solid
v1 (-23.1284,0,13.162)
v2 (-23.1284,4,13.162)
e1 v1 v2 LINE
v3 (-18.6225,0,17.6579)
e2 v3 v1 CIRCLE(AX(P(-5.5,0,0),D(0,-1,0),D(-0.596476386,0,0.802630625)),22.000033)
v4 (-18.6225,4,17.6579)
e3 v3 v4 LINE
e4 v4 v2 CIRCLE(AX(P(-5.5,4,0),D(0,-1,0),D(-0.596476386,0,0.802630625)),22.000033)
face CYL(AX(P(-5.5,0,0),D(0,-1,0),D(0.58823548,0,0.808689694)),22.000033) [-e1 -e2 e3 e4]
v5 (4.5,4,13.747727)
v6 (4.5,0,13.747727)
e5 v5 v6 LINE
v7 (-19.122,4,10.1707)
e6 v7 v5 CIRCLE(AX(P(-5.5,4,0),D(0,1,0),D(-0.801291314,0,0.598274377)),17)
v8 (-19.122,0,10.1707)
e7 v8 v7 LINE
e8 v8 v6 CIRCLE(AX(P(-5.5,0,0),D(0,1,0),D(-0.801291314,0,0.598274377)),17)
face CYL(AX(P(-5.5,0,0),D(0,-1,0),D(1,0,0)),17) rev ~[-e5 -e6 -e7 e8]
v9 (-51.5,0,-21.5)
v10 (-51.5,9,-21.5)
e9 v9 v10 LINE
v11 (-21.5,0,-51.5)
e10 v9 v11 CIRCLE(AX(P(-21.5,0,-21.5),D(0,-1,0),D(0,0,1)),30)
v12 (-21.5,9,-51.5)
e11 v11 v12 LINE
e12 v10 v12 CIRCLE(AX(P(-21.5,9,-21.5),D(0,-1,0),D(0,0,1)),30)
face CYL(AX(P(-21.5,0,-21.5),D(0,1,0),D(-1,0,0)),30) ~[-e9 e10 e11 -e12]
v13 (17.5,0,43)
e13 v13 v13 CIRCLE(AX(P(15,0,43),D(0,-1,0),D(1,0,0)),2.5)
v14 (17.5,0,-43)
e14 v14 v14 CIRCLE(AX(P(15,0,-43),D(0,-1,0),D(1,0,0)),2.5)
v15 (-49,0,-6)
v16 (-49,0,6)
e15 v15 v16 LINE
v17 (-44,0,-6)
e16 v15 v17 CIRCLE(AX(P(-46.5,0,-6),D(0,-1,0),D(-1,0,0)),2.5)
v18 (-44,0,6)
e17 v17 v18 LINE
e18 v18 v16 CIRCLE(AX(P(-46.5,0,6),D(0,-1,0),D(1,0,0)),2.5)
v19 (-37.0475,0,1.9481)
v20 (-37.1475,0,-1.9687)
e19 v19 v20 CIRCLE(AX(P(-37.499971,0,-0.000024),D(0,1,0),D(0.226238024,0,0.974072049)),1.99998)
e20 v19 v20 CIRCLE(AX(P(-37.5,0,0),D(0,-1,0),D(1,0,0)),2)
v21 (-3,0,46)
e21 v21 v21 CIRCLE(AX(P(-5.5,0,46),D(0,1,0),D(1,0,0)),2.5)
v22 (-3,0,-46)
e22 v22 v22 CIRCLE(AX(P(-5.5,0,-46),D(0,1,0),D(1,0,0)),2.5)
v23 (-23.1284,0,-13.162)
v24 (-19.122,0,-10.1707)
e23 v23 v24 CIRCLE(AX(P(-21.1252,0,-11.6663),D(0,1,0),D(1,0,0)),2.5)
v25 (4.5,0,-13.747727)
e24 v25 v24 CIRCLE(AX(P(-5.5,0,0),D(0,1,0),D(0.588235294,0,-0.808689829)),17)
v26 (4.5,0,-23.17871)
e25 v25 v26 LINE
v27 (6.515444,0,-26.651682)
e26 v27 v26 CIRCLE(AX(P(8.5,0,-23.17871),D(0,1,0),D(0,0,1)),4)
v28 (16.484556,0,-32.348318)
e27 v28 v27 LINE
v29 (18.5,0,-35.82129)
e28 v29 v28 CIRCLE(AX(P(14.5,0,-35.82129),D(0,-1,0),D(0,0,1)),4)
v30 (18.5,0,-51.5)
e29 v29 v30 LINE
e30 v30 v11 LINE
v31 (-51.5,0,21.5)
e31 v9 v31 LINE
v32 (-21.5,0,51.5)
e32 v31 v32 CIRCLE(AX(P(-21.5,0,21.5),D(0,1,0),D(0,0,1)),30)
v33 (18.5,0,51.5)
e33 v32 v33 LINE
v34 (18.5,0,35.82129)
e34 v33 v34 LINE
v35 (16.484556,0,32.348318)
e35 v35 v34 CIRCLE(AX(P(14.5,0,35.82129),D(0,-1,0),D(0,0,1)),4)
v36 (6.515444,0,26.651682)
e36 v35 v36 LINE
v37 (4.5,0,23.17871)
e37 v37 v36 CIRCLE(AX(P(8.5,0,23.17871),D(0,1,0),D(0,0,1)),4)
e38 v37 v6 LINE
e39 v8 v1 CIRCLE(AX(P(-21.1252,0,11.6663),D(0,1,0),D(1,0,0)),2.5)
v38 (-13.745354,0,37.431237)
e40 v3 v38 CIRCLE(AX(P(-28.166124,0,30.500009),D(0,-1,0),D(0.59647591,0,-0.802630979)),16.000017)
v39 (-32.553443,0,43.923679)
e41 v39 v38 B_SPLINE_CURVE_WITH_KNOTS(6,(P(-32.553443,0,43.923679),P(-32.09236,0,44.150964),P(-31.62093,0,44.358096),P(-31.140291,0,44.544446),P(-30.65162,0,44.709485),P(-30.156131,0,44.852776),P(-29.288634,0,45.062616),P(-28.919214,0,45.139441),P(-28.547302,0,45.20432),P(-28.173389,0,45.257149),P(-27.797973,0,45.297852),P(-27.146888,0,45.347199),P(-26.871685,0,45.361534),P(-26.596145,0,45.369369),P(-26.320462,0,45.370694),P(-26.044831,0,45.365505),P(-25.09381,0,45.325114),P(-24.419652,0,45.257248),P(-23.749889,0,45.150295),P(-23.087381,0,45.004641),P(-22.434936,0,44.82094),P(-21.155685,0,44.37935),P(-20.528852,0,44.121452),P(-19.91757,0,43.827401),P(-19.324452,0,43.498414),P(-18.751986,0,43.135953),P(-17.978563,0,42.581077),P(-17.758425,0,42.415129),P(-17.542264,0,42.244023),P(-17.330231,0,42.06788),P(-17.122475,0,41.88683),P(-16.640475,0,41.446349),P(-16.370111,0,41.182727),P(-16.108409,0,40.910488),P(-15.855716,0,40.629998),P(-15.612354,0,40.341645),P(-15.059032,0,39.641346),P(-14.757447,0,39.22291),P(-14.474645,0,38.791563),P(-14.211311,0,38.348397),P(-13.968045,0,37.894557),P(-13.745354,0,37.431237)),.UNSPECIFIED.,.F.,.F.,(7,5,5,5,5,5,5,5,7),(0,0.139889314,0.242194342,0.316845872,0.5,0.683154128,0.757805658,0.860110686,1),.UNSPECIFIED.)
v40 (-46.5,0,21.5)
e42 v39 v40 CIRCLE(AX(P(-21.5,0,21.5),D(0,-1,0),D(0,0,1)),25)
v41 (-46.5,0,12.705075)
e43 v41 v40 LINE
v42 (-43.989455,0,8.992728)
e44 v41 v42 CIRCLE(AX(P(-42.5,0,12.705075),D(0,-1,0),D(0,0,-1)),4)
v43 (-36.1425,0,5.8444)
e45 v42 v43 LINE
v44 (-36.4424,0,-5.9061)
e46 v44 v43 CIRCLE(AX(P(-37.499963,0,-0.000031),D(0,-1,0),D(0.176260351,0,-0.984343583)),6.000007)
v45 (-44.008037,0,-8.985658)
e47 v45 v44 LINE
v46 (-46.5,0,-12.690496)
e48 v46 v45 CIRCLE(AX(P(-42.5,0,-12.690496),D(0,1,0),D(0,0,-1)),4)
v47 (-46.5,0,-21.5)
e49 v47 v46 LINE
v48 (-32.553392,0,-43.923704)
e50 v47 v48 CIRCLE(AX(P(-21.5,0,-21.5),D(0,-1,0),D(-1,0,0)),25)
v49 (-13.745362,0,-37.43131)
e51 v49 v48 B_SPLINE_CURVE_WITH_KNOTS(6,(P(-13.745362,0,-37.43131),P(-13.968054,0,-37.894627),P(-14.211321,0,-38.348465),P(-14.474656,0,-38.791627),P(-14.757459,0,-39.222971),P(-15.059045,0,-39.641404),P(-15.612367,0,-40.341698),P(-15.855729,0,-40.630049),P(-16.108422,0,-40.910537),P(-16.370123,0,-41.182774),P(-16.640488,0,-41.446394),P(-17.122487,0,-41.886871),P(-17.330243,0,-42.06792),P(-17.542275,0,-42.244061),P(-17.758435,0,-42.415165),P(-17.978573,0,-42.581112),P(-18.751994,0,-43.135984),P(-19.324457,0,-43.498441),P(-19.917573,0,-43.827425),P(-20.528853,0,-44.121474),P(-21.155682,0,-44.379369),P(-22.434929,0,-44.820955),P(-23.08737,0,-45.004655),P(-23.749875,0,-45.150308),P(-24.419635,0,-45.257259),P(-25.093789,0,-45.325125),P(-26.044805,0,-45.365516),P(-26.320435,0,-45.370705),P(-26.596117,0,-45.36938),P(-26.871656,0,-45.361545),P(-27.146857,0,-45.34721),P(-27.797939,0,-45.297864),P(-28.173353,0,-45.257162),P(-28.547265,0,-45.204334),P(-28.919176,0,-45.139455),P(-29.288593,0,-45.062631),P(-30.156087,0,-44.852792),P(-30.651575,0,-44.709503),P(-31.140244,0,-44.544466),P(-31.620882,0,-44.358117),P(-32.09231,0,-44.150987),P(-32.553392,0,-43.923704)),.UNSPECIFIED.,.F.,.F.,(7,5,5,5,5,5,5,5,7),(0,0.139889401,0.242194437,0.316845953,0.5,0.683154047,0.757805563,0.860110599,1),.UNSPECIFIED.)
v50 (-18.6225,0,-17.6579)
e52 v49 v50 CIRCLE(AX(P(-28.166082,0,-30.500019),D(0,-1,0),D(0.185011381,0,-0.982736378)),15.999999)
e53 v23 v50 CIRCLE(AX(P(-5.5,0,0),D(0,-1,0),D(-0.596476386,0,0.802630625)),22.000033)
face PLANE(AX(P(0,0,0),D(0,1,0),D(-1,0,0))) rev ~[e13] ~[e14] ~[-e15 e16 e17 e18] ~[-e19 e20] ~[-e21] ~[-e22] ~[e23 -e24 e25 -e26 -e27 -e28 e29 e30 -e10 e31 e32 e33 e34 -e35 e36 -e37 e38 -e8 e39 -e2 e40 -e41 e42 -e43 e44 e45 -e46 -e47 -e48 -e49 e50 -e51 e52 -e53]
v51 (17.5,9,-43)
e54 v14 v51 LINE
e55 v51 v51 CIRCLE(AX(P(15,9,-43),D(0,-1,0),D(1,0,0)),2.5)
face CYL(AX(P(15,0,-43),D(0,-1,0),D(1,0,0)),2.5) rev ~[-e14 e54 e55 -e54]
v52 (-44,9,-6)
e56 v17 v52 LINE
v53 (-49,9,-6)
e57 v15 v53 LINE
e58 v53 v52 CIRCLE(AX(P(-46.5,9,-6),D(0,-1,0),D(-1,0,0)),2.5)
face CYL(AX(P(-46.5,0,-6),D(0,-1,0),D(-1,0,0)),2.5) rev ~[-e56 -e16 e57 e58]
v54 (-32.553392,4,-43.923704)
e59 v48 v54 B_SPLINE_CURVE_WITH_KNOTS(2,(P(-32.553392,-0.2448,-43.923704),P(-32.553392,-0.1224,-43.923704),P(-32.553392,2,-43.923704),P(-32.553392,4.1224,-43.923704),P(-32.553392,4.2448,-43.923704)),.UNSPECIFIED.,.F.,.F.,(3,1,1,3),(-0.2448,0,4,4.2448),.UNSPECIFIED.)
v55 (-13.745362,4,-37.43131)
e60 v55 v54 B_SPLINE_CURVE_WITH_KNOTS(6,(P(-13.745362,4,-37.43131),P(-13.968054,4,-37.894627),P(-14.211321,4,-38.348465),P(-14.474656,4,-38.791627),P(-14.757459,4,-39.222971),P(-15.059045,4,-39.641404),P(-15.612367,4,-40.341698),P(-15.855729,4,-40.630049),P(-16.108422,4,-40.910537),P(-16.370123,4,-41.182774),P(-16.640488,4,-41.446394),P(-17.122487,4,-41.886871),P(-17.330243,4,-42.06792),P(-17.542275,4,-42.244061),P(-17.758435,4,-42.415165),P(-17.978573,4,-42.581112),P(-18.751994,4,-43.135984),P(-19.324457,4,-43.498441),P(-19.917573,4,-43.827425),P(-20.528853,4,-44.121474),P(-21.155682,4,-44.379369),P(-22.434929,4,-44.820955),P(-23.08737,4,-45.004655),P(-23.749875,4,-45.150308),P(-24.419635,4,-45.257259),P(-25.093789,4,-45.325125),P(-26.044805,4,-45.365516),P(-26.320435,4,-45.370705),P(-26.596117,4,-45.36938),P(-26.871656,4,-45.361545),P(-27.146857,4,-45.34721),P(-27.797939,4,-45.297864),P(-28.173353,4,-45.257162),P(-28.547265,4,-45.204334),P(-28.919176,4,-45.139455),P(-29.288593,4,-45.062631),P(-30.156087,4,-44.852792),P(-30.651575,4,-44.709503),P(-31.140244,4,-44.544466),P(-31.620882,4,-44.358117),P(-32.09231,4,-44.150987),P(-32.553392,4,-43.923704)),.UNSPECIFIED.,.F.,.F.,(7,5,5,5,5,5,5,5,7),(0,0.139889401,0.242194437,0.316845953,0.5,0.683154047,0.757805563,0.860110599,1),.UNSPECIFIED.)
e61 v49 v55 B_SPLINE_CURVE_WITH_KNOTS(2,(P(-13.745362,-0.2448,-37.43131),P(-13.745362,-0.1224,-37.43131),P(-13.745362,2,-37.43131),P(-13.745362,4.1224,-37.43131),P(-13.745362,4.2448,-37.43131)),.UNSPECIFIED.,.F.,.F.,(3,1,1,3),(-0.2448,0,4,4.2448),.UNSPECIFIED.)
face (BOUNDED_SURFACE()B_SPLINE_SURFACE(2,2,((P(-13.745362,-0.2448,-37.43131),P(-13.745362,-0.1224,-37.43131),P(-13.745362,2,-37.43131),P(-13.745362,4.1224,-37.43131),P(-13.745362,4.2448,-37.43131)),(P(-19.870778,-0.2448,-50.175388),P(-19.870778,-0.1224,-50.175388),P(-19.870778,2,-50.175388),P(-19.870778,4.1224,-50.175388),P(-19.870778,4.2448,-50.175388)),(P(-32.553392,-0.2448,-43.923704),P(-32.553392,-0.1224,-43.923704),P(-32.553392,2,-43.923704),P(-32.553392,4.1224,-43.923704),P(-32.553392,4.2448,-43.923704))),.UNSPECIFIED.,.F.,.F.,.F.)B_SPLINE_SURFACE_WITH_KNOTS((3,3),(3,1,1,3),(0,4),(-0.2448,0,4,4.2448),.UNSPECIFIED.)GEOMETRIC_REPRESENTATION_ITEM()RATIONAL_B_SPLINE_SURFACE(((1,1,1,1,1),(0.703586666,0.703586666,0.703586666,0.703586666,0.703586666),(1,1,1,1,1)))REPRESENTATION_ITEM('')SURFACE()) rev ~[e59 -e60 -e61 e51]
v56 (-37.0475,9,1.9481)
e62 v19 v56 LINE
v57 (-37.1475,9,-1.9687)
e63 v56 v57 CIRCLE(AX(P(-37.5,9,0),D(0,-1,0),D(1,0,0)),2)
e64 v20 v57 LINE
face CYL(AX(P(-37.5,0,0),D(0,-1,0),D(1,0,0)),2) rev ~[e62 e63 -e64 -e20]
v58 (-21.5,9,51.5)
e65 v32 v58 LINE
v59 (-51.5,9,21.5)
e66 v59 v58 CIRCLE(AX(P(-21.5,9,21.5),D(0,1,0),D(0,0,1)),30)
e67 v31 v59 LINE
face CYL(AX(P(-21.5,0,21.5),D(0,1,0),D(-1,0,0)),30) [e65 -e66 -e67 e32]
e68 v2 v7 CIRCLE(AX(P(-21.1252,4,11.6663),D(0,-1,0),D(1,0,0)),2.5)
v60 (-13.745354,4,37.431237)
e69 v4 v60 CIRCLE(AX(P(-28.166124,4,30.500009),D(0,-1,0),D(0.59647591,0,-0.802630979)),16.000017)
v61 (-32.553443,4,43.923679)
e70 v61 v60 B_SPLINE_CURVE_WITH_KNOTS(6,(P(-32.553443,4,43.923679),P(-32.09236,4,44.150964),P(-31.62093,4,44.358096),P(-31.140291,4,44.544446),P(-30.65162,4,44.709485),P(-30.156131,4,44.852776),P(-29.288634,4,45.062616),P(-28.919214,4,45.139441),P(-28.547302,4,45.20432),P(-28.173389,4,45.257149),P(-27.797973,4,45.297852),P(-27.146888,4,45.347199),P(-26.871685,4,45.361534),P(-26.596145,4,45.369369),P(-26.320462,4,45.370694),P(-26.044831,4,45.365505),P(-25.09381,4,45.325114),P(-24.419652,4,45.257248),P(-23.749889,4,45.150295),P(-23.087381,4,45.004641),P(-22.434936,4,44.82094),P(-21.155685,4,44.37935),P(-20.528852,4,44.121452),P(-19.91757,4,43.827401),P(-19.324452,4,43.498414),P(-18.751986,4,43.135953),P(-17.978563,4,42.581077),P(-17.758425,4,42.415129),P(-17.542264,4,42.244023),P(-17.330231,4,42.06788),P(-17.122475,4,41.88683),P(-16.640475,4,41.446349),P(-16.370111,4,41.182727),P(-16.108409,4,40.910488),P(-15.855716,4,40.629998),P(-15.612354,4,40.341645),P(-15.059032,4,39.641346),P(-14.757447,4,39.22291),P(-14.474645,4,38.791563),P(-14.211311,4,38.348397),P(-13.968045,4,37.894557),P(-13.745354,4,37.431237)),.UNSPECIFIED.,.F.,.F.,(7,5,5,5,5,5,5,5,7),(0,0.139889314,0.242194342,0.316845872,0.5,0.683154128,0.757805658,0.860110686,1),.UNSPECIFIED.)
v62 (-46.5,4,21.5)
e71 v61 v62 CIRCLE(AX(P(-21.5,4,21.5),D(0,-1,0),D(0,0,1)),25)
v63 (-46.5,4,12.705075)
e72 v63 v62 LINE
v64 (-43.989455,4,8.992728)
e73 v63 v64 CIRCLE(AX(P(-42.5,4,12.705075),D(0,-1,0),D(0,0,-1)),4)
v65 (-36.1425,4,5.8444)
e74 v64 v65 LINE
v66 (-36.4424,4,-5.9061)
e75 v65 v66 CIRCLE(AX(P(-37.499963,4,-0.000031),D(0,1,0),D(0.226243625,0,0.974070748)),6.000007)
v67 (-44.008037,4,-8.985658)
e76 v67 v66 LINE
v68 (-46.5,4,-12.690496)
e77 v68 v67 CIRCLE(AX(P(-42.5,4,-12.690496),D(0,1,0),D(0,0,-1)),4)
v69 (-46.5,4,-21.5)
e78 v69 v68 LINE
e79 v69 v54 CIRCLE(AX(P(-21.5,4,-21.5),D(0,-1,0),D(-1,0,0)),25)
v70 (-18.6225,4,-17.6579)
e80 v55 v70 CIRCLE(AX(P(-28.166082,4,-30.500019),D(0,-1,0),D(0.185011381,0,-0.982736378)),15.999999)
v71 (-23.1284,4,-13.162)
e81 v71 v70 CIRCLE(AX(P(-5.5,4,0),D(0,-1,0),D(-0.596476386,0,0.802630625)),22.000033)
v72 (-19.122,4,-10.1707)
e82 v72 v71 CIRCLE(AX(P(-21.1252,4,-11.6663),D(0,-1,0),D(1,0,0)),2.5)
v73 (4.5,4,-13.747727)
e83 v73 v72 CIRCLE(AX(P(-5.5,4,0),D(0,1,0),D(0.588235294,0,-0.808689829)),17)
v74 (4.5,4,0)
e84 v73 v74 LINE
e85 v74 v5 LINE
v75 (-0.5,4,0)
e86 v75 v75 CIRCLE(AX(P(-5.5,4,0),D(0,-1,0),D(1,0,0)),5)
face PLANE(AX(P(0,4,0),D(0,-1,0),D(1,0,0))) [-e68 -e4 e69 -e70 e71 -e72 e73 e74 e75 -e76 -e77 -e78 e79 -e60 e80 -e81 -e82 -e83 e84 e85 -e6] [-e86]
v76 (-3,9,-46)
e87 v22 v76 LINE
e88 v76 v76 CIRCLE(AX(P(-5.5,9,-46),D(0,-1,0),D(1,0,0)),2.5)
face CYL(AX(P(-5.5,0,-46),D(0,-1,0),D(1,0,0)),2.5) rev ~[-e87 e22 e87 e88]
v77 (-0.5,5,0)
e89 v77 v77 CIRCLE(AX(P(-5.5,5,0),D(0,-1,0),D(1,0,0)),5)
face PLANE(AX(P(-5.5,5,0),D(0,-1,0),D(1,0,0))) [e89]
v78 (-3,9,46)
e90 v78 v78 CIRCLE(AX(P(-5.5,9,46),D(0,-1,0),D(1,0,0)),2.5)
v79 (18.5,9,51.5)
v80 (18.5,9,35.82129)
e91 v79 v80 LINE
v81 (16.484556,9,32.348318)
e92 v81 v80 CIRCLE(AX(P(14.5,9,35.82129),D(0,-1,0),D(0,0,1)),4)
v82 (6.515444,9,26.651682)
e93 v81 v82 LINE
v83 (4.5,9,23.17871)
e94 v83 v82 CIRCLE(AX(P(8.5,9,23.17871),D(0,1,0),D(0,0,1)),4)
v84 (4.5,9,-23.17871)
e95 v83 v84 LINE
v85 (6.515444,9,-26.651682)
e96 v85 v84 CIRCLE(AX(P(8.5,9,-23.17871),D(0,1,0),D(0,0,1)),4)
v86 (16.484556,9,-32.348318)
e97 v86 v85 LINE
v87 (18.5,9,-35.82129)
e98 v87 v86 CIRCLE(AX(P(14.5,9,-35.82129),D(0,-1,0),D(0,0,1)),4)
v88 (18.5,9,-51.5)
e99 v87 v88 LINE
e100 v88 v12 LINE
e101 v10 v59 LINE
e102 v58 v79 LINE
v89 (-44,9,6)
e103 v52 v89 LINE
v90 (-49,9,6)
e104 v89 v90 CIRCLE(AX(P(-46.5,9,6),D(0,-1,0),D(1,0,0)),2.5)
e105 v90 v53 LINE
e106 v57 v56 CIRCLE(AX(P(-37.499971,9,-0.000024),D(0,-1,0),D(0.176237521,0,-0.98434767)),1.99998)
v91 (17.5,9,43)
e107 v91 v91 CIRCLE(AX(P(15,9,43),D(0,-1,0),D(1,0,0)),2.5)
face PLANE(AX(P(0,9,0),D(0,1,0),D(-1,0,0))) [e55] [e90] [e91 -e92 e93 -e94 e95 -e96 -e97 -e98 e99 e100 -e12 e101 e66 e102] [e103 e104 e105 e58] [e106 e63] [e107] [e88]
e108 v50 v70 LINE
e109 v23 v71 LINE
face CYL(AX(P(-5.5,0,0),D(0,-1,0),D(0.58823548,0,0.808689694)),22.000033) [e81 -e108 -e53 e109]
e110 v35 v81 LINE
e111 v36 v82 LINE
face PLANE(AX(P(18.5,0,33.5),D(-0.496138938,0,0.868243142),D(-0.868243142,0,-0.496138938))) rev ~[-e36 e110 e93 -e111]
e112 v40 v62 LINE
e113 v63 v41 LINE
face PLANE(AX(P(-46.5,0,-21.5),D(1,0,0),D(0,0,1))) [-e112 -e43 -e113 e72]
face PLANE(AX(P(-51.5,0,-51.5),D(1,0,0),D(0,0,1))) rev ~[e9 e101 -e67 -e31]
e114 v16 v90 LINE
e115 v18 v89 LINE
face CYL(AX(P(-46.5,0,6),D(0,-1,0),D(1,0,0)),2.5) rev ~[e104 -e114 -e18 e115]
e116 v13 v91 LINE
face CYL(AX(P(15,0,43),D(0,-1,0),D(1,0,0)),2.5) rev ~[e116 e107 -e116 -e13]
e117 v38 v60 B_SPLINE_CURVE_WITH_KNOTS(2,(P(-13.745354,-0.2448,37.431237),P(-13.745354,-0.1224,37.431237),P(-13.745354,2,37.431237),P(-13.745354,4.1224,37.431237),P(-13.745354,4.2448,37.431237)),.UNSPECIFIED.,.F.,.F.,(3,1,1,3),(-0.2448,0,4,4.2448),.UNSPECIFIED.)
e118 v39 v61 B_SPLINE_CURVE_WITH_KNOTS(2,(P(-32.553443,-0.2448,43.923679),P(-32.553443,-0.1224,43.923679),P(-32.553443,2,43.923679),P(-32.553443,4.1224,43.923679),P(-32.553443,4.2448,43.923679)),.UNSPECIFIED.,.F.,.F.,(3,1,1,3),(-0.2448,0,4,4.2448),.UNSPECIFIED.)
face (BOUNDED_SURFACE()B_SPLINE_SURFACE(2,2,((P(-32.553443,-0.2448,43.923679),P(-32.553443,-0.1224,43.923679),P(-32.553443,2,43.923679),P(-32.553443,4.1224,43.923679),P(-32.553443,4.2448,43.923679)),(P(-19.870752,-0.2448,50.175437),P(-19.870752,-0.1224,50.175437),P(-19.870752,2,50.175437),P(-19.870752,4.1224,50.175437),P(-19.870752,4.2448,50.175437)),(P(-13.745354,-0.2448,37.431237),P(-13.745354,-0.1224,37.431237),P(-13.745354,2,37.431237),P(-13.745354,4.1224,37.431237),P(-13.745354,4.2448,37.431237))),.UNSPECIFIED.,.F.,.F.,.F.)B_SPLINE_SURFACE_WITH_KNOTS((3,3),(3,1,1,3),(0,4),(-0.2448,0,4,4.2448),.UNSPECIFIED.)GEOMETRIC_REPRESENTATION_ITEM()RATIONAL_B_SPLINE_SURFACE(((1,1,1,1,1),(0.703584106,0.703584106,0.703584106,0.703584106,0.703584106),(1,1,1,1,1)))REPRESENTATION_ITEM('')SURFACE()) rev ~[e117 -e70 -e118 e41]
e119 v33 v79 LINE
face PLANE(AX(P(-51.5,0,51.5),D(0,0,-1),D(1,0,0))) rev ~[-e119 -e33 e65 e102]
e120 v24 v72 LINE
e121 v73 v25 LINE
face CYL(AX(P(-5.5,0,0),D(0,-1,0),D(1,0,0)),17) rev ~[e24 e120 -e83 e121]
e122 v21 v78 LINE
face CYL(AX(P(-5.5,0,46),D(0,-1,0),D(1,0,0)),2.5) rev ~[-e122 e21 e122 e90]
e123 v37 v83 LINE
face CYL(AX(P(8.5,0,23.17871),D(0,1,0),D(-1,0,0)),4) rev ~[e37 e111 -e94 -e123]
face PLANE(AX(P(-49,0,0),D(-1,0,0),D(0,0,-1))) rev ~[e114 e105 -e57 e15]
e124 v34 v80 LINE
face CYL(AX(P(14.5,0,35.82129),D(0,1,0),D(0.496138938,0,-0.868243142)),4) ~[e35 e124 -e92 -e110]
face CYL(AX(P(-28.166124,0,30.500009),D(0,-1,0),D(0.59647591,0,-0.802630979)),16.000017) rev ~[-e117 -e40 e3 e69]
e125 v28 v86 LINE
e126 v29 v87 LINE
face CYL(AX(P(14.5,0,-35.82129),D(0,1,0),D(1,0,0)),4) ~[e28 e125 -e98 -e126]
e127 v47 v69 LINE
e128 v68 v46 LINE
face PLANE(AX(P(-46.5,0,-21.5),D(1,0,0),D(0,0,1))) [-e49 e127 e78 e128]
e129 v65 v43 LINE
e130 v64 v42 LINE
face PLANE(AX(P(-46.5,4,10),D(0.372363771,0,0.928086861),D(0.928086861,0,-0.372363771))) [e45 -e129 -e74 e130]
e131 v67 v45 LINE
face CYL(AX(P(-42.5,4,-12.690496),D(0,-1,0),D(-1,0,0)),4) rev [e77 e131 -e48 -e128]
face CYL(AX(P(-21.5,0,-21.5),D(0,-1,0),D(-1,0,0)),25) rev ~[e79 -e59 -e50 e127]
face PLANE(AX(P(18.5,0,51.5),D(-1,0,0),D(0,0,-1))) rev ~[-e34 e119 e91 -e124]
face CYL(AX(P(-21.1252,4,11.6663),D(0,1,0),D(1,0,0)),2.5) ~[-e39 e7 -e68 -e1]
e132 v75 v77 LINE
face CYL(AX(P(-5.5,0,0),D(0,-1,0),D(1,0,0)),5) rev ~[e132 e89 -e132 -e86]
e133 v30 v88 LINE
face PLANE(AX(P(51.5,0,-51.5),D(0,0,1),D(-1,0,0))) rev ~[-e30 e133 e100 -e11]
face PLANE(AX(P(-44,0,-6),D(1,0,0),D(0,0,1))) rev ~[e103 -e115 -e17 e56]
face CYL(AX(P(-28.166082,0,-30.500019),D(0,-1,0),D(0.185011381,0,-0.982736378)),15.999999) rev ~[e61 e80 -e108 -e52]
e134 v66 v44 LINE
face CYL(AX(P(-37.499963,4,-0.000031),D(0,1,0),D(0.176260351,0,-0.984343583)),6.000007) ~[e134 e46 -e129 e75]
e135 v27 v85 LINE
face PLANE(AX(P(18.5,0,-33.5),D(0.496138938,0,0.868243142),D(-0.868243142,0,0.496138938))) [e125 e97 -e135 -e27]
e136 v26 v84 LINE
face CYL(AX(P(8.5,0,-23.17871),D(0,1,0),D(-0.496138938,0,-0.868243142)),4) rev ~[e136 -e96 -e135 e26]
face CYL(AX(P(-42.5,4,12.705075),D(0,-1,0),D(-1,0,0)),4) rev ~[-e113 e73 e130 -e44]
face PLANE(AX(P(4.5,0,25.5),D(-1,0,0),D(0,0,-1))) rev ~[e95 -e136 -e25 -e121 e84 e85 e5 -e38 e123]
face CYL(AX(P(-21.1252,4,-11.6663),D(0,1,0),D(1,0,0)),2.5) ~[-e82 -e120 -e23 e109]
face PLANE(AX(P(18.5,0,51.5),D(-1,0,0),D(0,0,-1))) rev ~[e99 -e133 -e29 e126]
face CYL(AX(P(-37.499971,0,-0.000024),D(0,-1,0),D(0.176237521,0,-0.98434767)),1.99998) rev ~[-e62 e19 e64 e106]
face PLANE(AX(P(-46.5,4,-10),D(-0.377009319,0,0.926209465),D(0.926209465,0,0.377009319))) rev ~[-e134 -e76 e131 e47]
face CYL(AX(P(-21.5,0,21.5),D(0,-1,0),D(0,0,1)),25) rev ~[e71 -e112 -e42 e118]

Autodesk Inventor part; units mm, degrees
ref_plane "YZ Plane" through (0, 0, 0) normal (1, 0, 0) x (0, 1, 0)
ref_plane "XZ Plane" through (0, 0, 0) normal (0, 1, 0) x (-1, 0, 0)
ref_plane "XY Plane" through (0, 0, 0) normal (0, 0, 1) x (1, 0, 0)
sketch "Sketch2" plane through (0, 0, 0) normal (0, 1, 0) x (-1, 0, 0)
  line L0 (-51.5, -51.5) -> (51.5, -51.5)
  line L1 (51.5, -51.5) -> (51.5, 51.5)
  line L2 (51.5, 51.5) -> (-51.5, 51.5)
  line L3 (-51.5, 51.5) -> (-51.5, -51.5)
  line L4 (-51.5, -51.5) -> (51.5, 51.5) construction
  line L5 (51.5, -51.5) -> (-51.5, 51.5) construction
  point P0 (0, 0)
  dimension "d6" = 103
  dimension "d7" = 103
extrude "Extrusion2" add sketch "Sketch2" along normal blind 9
fillet "Fillet3" radius 30 1 edges at (-51.5, 4.5, -51.5)
fillet "Fillet4" radius 30 1 edges at (51.5, 4.5, -51.5)
fillet "Fillet5" radius 30 1 edges at (-51.5, 4.5, 51.5)
sketch "Sketch3" plane through (0, 0, 0) normal (0, -1, 0) x (1, 0, 0)
  line L0 (51.5, 51.5) -> (51.5, -21.5) projected
  line L1 (21.5, -51.5) -> (-21.5, -51.5) projected
  line L2 (51.5, 51.5) -> (18.5, 51.5)
  line L3 (18.5, 51.5) -> (18.5, -51.5)
  line L4 (18.5, -51.5) -> (51.5, -51.5)
  line L5 (51.5, -51.5) -> (51.5, 51.5)
  point P0 (0, 0)
  dimension "d13" = 33
extrude "Extrusion3" cut sketch "Sketch3" against normal blind 9
sketch "Sketch4" plane through (0, 0, 0) normal (0, -1, 0) x (1, 0, 0)
  line L0 (-21.5, 51.5) -> (18.5, 51.5) projected
  line L1 (18.5, 51.5) -> (18.5, 25.5)
  line L2 (18.5, 51.5) -> (18.5, -51.5) projected
  line L3 (18.5, -51.5) -> (18.5, -25.5)
  line L4 (18.5, 25.5) -> (4.5, 25.5)
  line L5 (4.5, 25.5) -> (4.5, -25.5)
  line L6 (4.5, -25.5) -> (18.5, -25.5)
  line L7 (18.5, -25.5) -> (18.5, 25.5)
  point P0 (0, 0)
  dimension "d16" = 26
  dimension "d17" = 26
  dimension "d18" = 14
extrude "Extrusion4" cut sketch "Sketch4" against normal blind 9
sketch "Sketch5" plane through (0, 0, 0) normal (0, -1, 0) x (1, 0, 0)
  line L0 (18.5, 51.5) -> (18.5, 33.5)
  line L1 (18.5, 25.5) -> (18.5, 51.5) projected
  line L2 (4.5, 25.5) -> (4.5, -25.5) projected
  line L3 (18.5, 33.5) -> (4.5, 25.5)
  line L4 (18.5, 25.5) -> (4.5, 25.5) projected
  line L5 (4.5, 25.5) -> (18.5, 25.5)
  line L6 (18.5, 25.5) -> (18.5, 33.5)
  line L7 (18.5, -51.5) -> (-21.5, -51.5) projected
  line L8 (18.5, -51.5) -> (18.5, -33.5)
  line L9 (18.5, -25.5) -> (18.5, -51.5) projected
  line L10 (18.5, -33.5) -> (4.5, -25.5)
  line L11 (4.5, -25.5) -> (18.5, -25.5)
  line L12 (18.5, -25.5) -> (18.5, -33.5)
  point P0 (0, 0)
  dimension "d21" = 18
  dimension "d22" = 18
extrude "Extrusion5" cut sketch "Sketch5" against normal blind 9
fillet "Fillet6" radius 4 4 edges at (4.5, 4.5, 25.5) (18.5, 4.5, 33.5) (18.5, 4.5, -33.5) (4.5, 4.5, -25.5)
sketch "Sketch6" plane through (0, 0, 0) normal (0, -1, 0) x (1, 0, 0)
  line L0 (-21.5, 51.5) -> (18.5, 51.5) projected
  line L1 (18.5, 51.5) -> (18.5, 43)
  line L2 (18.5, 35.8213) -> (18.5, 51.5) projected
  line L3 (18.5, 43) -> (15, 43)
  circle A0 centre (15, 43) radius 2.5
  line L4 (18.5, -51.5) -> (-21.5, -51.5) projected
  line L5 (18.5, -51.5) -> (18.5, -43)
  line L6 (18.5, -35.8213) -> (18.5, -51.5) projected
  line L7 (18.5, -43) -> (15, -43)
  circle A1 centre (15, -43) radius 2.5
  line L8 (18.5, -51.5) -> (-5.5, -51.5)
  line L9 (-5.5, -51.5) -> (-5.5, -46)
  circle A2 centre (-5.5, -46) radius 2.5
  line L10 (18.5, 51.5) -> (-5.5, 51.5)
  line L11 (-5.5, 51.5) -> (-5.5, 46)
  circle A3 centre (-5.5, 46) radius 2.5
  point P0 (0, 0)
  dimension "d26" = 8.5
  dimension "d27" = 3.5
  dimension "d28" = 5
  dimension "d29" = 8.5
  dimension "d30" = 5
  dimension "d31" = 24
  dimension "d32" = 5.5
  dimension "d33" = 5
  dimension "d34" = 5.5
extrude "Extrusion6" cut sketch "Sketch6" against normal blind 9
sketch "Sketch7" plane through (0, 0, 0) normal (0, -1, 0) x (1, 0, 0)
  line L0 (4.5, 23.1787) -> (4.5, -23.1787) projected
  line L1 (4.5, 0) -> (-5.5, 0)
  circle A0 centre (-5.5, 0) radius 5
  circle A1 centre (-5.5, 0) radius 17
  point P0 (0, 0)
  dimension "d37" = 10
  dimension "d38" = 34
extrude "Extrusion7" cut sketch "Sketch7" against normal blind 4
sketch "Sketch8" plane through (-5.5, 0, 0) normal (0, -1, 0) x (1, 0, 0)
  circle A0 centre (0, 0) radius 5
  point P0 (5.5, 0)
extrude "Extrusion8" cut sketch "Sketch8" against normal blind 5
sketch "Sketch9" plane through (0, 0, 0) normal (0, -1, 0) x (1, 0, 0)
  line L0 (-21.5, 51.5) -> (18.5, 51.5) projected
  arc A0 (-21.5, 51.5) -> (-51.5, 21.5) centre (-21.5, 21.5) ccw projected
  line L1 (-51.5, -21.5) -> (-51.5, 21.5) projected
  arc A1 (-51.5, -21.5) -> (-21.5, -51.5) centre (-21.5, -21.5) ccw projected
  line L2 (18.5, -51.5) -> (-21.5, -51.5) projected
  line L3 (18.5, -46.5) -> (-21.5, -46.5)
  arc A2 (-46.5, -21.5) -> (-21.5, -46.5) centre (-21.5, -21.5) ccw
  line L4 (-46.5, -21.5) -> (-46.5, 21.5)
  arc A3 (-21.5, 46.5) -> (-46.5, 21.5) centre (-21.5, 21.5) ccw
  line L5 (-21.5, 46.5) -> (18.5, 46.5)
  arc A4 (4.5, 13.7477) -> (4.5, -13.7477) centre (-5.5, 0) ccw projected
  arc A5 (7.4412, 17.7912) -> (7.4412, -17.7912) centre (-5.5, 0) ccw
  arc A6 (-18.6225, 17.6579) -> (-25.2059, 46.2238) centre (-28.1661, 30.5) ccw
  arc A7 (-25.2059, -46.2238) -> (-18.6225, -17.6579) centre (-28.1661, -30.5) ccw
  arc A8 (5.9706, 15.7695) -> (5.9706, -15.7695) centre (-5.5, 0) ccw
  circle A9 centre (-5.5, 0) radius 5 projected
  line L6 (-5.5, 0) -> (-21.5, 11.1467)
  line L7 (-5.5, 0) -> (-21.5, -11.1467)
  circle A10 centre (-21.5, 11.1467) radius 2.5
  circle A11 centre (-21.5, -11.1467) radius 2.5
  point P0 (0, 0)
  dimension "d43" = 5
  dimension "d44" = 5
  dimension "d45" = 32
  dimension "d46" = 32
  dimension "d47" = 2.5
extrude "Extrusion9" cut sketch "Sketch9" against normal blind 4 contours L4 A3 A6 A5 A7 A2
sketch "Sketch10" plane through (0, 0, 0) normal (0, -1, 0) x (1, 0, 0)
  arc A0 (4.5, 13.7477) -> (4.5, -13.7477) centre (-5.5, 0) ccw projected
  line L0 (-5.5, 0) -> (-21.1252, 11.6663)
  line L1 (-5.5, 0) -> (-21.1252, -11.6663)
  line L2 (-21.1252, 11.6663) -> (-23.1284, 13.162)
  arc A1 (-18.6225, 17.6579) -> (-18.6225, -17.6579) centre (-5.5, 0) ccw projected
  line L3 (-21.1252, -11.6663) -> (-23.1284, -13.162)
  arc A2 (-19.122, 10.1707) -> (-19.122, -10.1707) centre (-5.5, 0) ccw
  arc A3 (7.4412, 17.7912) -> (7.4412, -17.7912) centre (-5.5, 0) ccw
  arc A4 (-19.122, 10.1707) -> (-19.122, -10.1707) centre (-5.5, 0) ccw
  point P0 (0, 0)
  dimension "d52" = 5
  dimension "d53" = 5
extrude "Extrusion10" cut sketch "Sketch10" against normal blind 4 contours A0 L1 L3 A1 L2 L0
sketch "Sketch11" plane through (0, 4, 0) normal (0, -1, 0) x (1, 0, 0)
  line L0 (-23.1284, 13.162) -> (-19.122, 10.1707) projected
  circle A0 centre (-21.1252, 11.6663) radius 2.5
  line L1 (-19.122, -10.1707) -> (-23.1284, -13.162) projected
  circle A1 centre (-21.1252, -11.6663) radius 2.5
  point P0 (0, 0)
  dimension "d56" = 5
  dimension "d57" = 5
extrude "Extrusion11" add sketch "Sketch11" along normal blind 4
fillet "Fillet7" radius 14 1 edges at (-25.2059, 2, -46.2238)
fillet "Fillet8" radius 14 1 edges at (-25.2059, 2, 46.2238)
sketch "Sketch12" plane through (0, 4, 0) normal (0, -1, 0) x (1, 0, 0)
  line L0 (-46.5, -21.5) -> (-46.5, 21.5) projected
  line L1 (-46.5, 0) -> (-31.5, 0)
  line L2 (-31.5, 0) -> (-31.5, 10)
  line L3 (-31.5, 10) -> (-46.5, 10)
  line L4 (-46.5, 10) -> (-46.5, 0)
  line L5 (-46.5, 0) -> (-31.5, 0)
  line L6 (-31.5, 0) -> (-31.5, -10)
  line L7 (-31.5, -10) -> (-46.5, -10)
  line L8 (-46.5, -10) -> (-46.5, 0)
  arc A0 (-36.4424, -5.9061) -> (-36.1425, 5.8444) centre (-37.5, 0) ccw
  line L9 (-46.5, 10) -> (-46.5, -10)
  line L10 (-46.5, -10) -> (-36.4424, -5.9061)
  line L11 (-46.5, 10) -> (-36.1425, 5.8444)
  line L12 (-46.5, 10) -> (-46.5, -10)
  point P0 (0, 0)
  dimension "d62" = 15
  dimension "d63" = 10
  dimension "d64" = 15
  dimension "d65" = 10
  dimension "d66" = 12
extrude "Extrusion12" add sketch "Sketch12" along normal blind 4 contours L0 L1 A0 L10 | L0 L11 A0 L1
fillet "Fillet9" radius 4 2 edges at (-46.5, 2, -10) (-46.5, 2, 10)
sketch "Sketch13" plane through (0, 0, 0) normal (0, -1, 0) x (1, 0, 0)
  arc A0 (-36.4424, -5.9061) -> (-36.1425, 5.8444) centre (-37.5, 0) ccw projected
  arc A1 (-37.1475, -1.9687) -> (-37.0475, 1.9481) centre (-37.5, 0) ccw
  circle A2 centre (-37.5, 0) radius 2
  line L0 (-51.5, -21.5) -> (-51.5, 21.5) projected
  line L1 (-51.5, 0) -> (-46.5, 0)
  line L2 (-46.5, 3.5) -> (-46.5, 6)
  line L3 (-46.5, -3.5) -> (-46.5, -6)
  arc A3 (-44, 6) -> (-49, 6) centre (-46.5, 6) ccw
  arc A4 (-49, -6) -> (-44, -6) centre (-46.5, -6) ccw
  line L4 (-44, -6) -> (-44, 6)
  line L5 (-49, 6) -> (-49, -6)
  point P0 (0, 0)
  dimension "d70" = 4
  dimension "d71" = 5
  dimension "d72" = 6
  dimension "d73" = 6
  dimension "d74" = 5
  dimension "d75" = 5
extrude "Extrusion13" cut sketch "Sketch13" against normal blind 9
properties part number "Kompliteringsbit"
